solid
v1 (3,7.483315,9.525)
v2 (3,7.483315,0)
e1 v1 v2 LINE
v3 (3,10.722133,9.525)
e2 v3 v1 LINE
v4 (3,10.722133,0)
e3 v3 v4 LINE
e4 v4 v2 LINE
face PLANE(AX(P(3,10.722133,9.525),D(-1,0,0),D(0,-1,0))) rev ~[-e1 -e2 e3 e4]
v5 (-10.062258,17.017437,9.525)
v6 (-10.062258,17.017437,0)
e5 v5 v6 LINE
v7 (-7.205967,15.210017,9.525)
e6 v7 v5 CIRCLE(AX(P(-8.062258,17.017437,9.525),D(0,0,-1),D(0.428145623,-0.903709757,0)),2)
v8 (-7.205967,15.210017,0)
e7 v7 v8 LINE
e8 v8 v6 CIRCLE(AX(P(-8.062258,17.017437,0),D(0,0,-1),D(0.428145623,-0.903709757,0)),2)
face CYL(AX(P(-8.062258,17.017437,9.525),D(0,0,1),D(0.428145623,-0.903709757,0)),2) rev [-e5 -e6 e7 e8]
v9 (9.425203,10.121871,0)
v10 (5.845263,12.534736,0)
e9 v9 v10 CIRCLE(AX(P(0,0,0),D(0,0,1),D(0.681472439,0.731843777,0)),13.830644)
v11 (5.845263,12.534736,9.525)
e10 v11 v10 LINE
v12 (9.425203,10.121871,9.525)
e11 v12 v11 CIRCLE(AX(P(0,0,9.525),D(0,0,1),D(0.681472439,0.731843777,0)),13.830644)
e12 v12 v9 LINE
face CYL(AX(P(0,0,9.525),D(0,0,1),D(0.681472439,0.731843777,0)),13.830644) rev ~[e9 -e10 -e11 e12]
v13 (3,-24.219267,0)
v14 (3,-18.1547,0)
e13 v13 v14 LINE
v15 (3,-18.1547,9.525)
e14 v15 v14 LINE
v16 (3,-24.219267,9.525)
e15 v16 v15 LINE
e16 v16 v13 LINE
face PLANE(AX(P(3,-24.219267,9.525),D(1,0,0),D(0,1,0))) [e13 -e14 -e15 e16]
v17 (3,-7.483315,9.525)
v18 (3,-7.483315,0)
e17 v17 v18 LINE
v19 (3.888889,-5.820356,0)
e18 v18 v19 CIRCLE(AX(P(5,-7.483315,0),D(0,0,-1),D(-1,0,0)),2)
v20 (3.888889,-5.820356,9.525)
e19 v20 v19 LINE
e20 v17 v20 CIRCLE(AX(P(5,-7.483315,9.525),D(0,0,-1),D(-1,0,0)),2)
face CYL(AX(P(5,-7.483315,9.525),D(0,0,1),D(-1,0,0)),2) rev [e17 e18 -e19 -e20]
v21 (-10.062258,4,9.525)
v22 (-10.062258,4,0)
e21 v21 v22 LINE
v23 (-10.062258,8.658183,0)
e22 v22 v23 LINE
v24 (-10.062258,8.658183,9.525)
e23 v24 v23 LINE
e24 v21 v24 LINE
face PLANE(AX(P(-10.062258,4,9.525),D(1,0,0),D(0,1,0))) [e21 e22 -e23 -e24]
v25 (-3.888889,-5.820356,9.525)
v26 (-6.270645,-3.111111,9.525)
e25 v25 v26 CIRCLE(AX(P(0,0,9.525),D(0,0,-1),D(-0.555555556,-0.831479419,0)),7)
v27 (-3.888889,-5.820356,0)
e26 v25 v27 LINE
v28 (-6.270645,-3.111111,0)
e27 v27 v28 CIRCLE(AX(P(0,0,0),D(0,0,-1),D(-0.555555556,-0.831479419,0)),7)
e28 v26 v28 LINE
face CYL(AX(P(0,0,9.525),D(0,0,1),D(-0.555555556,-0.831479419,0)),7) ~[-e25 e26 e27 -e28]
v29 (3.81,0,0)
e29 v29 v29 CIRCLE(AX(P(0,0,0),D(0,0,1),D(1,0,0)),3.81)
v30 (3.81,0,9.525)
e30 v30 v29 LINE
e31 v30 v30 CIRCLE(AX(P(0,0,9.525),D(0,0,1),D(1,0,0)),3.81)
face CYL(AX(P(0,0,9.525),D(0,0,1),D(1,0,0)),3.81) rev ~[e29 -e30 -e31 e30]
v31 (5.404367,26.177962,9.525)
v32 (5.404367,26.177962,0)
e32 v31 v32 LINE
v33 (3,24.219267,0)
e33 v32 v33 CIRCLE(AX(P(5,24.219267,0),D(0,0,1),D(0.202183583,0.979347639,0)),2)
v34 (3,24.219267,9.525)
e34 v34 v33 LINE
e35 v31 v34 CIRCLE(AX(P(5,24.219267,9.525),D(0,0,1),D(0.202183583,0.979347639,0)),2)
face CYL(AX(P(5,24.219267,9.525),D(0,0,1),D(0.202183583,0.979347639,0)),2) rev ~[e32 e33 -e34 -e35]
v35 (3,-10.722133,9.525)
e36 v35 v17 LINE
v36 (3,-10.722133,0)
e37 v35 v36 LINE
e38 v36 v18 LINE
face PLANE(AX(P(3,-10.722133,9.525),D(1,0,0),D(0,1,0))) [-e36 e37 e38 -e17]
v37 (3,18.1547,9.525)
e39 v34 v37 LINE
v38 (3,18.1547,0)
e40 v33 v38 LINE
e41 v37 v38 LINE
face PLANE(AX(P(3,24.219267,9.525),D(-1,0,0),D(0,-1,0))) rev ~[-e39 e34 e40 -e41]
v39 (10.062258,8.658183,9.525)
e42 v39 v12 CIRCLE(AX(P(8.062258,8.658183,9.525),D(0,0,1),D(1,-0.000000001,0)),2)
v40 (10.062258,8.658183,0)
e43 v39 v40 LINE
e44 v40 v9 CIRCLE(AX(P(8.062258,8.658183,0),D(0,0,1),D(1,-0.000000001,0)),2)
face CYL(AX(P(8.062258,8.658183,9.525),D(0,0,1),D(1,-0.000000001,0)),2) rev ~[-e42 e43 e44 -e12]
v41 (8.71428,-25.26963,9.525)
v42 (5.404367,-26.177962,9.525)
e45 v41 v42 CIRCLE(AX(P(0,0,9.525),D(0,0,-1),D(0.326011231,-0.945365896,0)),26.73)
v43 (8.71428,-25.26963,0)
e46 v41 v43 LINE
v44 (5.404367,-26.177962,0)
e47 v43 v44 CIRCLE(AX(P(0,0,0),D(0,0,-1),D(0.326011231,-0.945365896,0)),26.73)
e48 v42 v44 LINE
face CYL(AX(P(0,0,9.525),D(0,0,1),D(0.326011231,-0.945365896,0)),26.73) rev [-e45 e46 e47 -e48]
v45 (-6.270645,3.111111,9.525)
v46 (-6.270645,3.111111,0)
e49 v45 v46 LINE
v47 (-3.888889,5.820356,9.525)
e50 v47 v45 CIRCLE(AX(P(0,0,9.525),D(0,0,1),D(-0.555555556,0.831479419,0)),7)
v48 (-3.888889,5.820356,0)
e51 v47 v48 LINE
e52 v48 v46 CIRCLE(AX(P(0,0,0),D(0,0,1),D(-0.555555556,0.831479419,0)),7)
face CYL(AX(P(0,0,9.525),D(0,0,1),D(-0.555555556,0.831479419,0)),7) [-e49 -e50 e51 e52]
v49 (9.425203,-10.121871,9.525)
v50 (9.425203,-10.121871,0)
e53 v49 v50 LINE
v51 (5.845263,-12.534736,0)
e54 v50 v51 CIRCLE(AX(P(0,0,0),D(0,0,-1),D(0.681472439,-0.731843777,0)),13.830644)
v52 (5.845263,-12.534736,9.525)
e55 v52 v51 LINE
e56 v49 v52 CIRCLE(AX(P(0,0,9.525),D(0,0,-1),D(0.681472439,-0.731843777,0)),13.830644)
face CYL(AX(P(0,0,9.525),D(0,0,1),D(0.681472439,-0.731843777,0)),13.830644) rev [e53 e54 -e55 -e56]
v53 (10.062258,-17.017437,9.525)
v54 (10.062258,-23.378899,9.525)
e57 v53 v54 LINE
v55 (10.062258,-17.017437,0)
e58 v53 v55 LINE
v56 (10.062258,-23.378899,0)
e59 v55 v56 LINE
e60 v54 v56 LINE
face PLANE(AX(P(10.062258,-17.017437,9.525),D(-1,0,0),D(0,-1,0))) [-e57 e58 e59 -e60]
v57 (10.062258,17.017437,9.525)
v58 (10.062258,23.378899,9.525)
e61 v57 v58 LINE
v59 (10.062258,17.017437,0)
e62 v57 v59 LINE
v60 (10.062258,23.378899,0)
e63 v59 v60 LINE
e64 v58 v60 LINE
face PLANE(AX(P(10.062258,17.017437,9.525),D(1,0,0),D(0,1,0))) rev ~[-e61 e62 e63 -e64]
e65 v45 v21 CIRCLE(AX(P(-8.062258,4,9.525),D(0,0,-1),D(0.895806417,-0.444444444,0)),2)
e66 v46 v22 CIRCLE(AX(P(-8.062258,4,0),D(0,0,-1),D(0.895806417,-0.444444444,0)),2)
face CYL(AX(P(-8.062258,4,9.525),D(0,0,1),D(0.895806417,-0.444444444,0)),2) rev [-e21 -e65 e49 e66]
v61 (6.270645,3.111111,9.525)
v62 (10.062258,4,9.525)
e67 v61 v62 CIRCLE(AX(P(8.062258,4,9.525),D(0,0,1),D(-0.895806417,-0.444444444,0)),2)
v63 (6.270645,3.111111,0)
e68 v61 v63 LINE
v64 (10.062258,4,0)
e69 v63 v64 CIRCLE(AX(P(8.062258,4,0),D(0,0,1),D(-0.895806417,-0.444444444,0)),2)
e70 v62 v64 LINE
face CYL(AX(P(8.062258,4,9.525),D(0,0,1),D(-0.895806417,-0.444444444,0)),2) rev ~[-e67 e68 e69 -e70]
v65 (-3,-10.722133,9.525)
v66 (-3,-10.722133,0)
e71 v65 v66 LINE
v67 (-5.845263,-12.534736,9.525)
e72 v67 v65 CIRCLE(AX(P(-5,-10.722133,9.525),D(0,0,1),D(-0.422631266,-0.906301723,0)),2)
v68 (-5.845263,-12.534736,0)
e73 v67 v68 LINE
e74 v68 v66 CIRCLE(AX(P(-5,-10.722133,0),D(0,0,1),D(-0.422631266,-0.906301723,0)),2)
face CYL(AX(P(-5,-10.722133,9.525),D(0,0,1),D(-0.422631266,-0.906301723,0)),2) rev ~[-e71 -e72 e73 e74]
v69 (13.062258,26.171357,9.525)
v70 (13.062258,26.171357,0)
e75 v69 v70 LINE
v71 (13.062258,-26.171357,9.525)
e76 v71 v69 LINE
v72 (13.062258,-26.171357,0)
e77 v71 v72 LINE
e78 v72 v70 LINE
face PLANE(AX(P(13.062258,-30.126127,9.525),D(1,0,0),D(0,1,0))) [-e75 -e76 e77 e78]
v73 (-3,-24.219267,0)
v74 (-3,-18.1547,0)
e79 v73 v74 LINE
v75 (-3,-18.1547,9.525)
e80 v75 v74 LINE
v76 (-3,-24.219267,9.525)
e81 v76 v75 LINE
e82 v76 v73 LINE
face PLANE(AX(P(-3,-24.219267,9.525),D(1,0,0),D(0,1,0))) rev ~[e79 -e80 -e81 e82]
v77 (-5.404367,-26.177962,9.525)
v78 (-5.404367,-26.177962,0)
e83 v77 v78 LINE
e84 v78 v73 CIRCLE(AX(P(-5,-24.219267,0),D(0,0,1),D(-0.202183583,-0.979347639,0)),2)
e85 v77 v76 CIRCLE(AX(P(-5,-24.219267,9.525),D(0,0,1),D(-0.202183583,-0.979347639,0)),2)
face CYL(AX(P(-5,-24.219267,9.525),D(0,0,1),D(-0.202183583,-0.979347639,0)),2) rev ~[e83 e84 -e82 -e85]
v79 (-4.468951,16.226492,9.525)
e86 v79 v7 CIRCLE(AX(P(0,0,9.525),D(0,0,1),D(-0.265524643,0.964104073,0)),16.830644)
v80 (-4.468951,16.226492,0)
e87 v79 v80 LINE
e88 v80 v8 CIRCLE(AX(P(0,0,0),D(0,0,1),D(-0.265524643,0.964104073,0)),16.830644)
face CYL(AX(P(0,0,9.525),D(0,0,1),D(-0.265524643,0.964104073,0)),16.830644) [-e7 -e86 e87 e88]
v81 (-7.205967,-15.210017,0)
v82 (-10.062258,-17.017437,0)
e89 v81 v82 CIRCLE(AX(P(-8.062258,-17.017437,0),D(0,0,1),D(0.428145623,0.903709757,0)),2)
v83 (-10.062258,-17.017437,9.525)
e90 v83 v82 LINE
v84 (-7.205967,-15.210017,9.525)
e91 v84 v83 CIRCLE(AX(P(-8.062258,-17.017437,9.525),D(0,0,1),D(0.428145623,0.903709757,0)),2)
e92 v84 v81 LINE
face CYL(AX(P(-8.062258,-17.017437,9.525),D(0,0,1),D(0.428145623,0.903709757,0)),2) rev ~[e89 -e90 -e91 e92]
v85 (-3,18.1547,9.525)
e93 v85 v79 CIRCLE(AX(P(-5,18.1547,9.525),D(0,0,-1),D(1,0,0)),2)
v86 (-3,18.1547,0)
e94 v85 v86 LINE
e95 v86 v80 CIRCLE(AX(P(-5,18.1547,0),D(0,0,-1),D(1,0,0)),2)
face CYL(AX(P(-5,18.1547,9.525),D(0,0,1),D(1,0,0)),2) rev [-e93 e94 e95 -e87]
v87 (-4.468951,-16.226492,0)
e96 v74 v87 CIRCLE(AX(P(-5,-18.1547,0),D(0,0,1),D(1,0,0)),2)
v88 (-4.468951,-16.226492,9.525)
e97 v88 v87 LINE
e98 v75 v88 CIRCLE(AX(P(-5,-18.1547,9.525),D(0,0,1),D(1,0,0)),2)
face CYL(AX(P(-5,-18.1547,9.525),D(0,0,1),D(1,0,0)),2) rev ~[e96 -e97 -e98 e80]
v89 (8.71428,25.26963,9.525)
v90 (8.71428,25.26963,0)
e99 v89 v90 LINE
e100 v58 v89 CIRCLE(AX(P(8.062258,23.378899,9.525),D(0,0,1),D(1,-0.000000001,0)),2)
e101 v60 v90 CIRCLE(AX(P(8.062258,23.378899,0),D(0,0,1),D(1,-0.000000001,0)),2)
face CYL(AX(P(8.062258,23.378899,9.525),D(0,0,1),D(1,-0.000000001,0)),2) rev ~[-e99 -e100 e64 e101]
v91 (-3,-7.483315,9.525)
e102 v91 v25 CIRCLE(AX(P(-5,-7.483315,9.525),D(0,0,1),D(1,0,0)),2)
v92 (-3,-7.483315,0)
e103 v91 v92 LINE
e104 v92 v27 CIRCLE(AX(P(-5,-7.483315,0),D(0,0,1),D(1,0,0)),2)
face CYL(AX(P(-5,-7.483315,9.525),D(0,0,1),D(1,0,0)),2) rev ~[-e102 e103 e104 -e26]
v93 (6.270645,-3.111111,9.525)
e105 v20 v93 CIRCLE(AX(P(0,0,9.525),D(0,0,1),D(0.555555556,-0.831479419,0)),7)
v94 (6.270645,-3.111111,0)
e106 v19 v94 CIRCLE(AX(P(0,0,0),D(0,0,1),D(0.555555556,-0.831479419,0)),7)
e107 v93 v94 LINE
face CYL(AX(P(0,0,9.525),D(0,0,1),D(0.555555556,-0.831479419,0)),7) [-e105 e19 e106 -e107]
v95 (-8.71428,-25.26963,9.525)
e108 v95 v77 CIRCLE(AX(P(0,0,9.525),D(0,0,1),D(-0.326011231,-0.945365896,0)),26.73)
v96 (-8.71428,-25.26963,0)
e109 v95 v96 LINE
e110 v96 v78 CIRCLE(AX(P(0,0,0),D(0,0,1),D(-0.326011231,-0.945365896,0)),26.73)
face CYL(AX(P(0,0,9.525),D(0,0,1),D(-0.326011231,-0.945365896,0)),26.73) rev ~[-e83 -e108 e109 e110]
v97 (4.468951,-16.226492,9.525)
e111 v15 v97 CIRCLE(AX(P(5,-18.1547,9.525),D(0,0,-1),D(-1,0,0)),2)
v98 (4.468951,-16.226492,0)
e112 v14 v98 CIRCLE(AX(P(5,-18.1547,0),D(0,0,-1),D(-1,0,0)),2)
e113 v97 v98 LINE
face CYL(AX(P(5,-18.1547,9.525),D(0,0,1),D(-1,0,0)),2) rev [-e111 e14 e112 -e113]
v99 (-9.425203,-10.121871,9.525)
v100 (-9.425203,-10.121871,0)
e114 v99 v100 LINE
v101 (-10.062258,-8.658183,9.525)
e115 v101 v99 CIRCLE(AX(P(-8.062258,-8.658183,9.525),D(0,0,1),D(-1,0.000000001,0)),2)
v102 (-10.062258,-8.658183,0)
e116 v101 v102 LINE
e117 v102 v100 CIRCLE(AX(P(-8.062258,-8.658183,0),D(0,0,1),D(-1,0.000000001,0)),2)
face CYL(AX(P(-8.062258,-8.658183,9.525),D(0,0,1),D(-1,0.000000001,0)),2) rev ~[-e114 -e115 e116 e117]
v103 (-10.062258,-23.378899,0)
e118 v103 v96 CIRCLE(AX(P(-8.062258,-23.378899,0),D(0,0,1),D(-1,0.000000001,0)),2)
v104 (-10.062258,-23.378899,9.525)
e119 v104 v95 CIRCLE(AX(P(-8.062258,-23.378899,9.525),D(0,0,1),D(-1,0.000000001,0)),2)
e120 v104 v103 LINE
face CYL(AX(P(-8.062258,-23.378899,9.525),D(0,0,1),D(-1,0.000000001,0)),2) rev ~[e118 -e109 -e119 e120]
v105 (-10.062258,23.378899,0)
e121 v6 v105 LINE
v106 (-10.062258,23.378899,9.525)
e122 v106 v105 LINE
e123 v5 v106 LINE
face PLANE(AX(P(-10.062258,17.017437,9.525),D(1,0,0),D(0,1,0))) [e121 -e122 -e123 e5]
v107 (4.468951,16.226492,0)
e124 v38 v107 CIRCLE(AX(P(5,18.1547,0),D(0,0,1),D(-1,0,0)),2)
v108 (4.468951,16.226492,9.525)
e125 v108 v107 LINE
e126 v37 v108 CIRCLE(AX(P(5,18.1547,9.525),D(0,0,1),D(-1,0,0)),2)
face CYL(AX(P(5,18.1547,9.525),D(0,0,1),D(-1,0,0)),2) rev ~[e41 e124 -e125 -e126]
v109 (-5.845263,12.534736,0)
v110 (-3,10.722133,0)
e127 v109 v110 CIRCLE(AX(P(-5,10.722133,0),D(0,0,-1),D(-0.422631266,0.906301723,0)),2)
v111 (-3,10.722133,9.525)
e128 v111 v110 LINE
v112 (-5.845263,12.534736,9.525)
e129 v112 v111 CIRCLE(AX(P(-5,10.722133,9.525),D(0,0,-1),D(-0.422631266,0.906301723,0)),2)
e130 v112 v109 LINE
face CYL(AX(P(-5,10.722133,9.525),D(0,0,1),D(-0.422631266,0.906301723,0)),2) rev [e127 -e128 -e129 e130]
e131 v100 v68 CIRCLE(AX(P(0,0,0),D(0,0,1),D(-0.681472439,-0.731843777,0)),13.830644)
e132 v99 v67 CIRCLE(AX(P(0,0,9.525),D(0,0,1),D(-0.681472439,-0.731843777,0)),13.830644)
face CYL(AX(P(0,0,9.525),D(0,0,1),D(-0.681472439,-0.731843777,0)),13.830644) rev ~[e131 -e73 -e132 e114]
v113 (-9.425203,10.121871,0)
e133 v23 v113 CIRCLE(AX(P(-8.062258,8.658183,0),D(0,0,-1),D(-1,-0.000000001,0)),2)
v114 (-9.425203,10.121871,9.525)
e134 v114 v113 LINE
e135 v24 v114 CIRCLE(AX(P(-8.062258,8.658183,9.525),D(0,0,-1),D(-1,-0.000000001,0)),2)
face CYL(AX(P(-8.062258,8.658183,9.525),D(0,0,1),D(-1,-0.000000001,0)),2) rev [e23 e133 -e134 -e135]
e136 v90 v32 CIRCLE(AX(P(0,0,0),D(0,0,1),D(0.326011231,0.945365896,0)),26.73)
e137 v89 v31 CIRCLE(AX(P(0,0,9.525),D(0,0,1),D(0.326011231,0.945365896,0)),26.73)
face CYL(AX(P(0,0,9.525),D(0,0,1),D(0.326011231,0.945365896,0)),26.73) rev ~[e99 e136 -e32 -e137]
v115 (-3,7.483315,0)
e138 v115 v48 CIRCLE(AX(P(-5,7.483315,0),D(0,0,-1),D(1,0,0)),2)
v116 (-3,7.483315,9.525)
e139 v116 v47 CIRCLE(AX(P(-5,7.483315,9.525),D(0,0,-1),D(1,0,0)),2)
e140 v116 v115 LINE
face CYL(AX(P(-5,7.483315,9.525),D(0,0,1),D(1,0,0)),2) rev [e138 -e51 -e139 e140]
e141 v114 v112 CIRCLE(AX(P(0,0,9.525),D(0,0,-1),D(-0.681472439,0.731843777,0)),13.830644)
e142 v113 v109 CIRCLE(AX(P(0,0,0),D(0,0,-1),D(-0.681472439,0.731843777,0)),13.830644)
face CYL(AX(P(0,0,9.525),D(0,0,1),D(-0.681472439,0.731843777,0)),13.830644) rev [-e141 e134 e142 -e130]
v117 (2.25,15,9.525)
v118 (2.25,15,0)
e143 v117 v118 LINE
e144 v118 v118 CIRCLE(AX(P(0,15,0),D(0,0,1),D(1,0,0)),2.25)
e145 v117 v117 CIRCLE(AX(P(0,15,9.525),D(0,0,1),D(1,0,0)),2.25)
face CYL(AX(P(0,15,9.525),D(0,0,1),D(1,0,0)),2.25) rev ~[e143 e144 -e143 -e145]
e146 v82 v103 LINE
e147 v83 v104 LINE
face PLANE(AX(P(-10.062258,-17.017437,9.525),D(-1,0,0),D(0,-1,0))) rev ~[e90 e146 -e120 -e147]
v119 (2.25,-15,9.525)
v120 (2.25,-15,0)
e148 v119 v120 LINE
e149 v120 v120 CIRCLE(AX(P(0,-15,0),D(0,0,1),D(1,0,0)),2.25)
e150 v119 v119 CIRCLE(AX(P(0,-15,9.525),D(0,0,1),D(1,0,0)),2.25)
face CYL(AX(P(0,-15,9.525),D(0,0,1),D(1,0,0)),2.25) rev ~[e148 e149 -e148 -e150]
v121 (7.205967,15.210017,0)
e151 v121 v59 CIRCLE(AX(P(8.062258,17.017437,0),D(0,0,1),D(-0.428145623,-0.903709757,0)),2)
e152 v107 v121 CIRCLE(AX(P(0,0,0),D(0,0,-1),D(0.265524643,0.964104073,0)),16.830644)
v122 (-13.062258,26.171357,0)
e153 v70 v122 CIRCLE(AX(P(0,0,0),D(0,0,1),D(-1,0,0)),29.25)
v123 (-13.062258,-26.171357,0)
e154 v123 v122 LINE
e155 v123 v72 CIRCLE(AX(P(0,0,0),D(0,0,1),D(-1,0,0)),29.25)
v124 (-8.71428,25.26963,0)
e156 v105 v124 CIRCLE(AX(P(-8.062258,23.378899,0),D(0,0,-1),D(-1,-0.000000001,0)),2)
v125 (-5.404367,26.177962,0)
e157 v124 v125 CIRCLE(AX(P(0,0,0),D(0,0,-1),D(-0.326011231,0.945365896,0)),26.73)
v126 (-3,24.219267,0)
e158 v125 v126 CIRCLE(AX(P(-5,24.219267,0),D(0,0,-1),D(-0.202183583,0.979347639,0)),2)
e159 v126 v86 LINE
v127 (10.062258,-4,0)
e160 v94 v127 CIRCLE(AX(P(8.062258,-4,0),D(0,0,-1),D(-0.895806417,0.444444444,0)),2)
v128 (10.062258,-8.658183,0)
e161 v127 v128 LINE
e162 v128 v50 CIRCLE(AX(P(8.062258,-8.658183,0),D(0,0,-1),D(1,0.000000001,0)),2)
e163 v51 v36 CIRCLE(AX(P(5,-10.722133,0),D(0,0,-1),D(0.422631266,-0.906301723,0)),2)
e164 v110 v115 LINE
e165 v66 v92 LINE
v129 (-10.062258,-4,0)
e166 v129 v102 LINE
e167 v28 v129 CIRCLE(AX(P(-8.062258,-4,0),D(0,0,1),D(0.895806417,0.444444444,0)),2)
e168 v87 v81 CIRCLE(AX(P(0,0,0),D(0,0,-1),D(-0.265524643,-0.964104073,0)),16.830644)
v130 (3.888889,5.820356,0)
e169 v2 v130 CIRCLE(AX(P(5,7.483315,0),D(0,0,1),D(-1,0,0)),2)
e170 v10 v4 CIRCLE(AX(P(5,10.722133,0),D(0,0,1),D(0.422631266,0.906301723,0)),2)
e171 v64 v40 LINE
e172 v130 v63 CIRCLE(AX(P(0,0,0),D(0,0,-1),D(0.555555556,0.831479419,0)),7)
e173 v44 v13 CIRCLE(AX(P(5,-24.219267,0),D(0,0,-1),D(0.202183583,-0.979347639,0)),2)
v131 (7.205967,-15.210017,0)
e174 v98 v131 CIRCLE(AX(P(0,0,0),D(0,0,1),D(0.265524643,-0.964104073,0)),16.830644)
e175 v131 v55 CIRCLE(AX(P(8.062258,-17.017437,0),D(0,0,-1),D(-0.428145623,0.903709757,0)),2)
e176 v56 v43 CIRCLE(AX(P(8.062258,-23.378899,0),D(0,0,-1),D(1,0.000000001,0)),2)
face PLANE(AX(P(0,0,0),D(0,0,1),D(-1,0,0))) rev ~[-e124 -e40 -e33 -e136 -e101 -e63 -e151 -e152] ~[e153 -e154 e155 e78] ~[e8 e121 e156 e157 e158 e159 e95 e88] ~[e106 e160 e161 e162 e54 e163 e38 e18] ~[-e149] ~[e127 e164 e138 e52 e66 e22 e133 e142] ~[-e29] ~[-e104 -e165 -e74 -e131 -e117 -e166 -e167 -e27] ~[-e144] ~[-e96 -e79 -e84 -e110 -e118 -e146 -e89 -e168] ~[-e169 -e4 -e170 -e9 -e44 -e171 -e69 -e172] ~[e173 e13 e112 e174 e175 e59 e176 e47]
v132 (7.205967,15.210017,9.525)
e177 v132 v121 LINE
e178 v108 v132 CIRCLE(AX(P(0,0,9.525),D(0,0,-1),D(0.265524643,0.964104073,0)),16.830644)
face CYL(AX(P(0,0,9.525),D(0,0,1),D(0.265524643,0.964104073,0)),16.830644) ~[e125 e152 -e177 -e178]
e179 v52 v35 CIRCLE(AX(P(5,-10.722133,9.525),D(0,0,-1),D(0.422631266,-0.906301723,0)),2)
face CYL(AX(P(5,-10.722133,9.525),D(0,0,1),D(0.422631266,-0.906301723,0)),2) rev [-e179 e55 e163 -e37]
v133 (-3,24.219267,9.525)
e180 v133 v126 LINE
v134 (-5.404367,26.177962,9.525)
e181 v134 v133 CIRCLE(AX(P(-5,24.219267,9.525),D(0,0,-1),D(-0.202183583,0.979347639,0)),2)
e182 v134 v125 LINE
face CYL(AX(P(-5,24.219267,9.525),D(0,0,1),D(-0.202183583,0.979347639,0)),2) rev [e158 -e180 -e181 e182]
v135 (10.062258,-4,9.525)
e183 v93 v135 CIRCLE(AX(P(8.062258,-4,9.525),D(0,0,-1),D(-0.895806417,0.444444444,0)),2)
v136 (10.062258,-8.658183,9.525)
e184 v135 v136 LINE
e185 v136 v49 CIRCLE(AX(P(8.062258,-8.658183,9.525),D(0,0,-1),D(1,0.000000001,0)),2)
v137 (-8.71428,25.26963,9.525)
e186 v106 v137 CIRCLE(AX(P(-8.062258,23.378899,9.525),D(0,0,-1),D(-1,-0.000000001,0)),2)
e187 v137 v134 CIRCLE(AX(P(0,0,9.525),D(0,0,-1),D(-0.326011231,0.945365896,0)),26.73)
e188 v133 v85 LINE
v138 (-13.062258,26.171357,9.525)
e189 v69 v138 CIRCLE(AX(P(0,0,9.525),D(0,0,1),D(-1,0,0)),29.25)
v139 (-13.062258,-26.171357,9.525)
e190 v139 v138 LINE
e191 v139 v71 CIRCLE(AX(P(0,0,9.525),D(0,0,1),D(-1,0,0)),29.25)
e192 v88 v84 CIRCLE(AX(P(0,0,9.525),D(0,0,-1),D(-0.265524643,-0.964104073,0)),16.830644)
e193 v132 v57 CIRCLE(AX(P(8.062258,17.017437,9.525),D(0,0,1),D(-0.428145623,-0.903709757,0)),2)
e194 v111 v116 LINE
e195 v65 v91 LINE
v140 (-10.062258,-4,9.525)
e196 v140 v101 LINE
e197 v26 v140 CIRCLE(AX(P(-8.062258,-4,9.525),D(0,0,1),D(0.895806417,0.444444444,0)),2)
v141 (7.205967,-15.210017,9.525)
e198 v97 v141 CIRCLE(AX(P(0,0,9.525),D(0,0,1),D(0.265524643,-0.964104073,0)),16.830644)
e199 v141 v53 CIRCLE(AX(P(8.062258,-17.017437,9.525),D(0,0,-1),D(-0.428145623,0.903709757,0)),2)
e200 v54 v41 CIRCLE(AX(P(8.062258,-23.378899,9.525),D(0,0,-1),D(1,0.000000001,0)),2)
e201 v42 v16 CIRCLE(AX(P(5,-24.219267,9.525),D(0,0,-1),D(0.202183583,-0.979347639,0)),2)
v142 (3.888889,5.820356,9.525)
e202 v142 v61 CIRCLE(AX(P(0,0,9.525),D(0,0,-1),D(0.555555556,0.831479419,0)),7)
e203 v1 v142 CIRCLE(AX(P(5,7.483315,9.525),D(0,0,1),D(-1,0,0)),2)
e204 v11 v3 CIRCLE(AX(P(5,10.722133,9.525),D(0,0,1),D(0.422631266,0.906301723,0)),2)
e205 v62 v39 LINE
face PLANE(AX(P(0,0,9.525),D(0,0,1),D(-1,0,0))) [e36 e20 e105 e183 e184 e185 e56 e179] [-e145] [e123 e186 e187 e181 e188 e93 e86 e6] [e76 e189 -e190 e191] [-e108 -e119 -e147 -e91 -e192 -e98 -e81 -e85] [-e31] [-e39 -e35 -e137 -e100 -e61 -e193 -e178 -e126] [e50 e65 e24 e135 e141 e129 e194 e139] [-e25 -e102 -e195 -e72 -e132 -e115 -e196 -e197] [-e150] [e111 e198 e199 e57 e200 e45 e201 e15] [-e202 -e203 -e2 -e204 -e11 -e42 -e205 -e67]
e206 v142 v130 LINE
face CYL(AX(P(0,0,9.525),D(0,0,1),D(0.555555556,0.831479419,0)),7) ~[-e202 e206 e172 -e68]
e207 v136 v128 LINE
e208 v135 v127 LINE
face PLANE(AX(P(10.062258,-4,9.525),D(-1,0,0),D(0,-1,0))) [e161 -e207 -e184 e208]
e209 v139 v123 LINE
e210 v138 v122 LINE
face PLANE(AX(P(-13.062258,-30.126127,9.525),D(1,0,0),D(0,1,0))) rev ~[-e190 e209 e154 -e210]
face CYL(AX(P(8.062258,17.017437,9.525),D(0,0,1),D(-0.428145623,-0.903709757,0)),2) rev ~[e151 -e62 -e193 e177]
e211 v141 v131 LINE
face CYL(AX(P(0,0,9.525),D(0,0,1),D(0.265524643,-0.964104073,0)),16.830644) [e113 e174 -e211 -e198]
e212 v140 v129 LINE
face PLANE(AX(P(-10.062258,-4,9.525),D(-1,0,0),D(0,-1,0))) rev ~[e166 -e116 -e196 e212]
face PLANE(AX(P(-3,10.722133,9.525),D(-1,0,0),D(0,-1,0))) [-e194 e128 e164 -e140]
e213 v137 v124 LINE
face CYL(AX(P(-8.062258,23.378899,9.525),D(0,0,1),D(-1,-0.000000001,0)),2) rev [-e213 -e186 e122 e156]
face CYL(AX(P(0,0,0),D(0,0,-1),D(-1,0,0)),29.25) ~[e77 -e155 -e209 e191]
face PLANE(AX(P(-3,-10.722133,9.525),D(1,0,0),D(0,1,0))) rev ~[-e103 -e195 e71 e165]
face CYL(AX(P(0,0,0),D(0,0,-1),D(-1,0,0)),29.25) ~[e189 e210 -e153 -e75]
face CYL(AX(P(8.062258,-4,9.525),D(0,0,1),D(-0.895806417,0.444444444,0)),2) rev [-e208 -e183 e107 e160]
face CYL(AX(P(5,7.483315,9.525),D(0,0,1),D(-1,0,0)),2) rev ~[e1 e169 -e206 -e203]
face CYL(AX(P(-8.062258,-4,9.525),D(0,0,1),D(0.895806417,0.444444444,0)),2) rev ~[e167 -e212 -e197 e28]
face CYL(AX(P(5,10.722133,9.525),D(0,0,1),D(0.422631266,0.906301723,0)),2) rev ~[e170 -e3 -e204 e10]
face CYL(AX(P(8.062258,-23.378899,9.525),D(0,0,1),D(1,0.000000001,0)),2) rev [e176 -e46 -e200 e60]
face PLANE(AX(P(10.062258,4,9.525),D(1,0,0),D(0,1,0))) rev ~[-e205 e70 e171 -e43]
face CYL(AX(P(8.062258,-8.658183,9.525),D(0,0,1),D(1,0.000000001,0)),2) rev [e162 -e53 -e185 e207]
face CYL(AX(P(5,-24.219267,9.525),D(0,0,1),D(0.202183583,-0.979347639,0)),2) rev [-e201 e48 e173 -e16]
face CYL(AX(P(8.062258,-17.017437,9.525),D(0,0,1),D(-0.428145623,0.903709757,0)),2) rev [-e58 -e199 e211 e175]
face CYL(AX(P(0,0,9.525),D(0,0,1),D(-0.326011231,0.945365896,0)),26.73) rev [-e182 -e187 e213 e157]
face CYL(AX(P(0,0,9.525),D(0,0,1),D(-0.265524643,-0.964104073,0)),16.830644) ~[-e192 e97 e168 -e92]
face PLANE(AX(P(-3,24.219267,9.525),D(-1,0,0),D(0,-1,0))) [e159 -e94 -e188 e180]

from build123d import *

# Parameters (mm, degrees)
SKETCH1_R          = 29.25
EXTRUDE_3_8_DEPTH  = 9.525
CUT_EXTRUDE1_DEPTH = 9.525
SKETCH3_R          = 2.25
M4_THROUGH_DEPTH   = 9.525
SKETCH4_R          = 3.81
F_3_8_DRILL_DEPTH  = 9.525
SKETCH6_W          = 18.02935576
SKETCH6_H          = 57.579918791
CUT_EXTRUDE2_DEPTH = 9.525


with BuildPart() as part:
    # Sketch1 → 3/8 (new body)
    with BuildSketch(Plane.XY):
        with Locations(Location((0, 0, 0), (0, 0, 180))):
            Circle(SKETCH1_R)
    extrude(amount=EXTRUDE_3_8_DEPTH)

    # Sketch2 → Cut-Extrude1 (cut)
    with BuildSketch(Plane.XY.offset(9.525)):
        with BuildLine():
            Line((-3, 24.219267124), (-3, 18.154700472))
            ThreePointArc((-3, 18.154700472), (-3.409072822, 16.942697702), (-4.468950714, 16.226492325))
            ThreePointArc((-4.468950714, 16.226492325), (-5.859541661, 15.777716729), (-7.205966503, 15.210017108))
            ThreePointArc((-7.205966503, 15.210017108), (-9.131700947, 15.327380042), (-10.062257748, 17.017436623))
            Line((-10.062257748, 17.017436623), (-10.062257748, 23.378898605))
            ThreePointArc((-10.062257748, 23.378898605), (-9.690760884, 24.539922954), (-8.714280211, 25.269630397))
            ThreePointArc((-8.714280211, 25.269630397), (-7.073918129, 25.776977757), (-5.404367165, 26.177962402))
            ThreePointArc((-5.404367165, 26.177962402), (-3.736816389, 25.769869318), (-3, 24.219267124))
        make_face()
        with BuildLine():
            Line((-3, 10.72213294), (-3, 7.483314774))
            ThreePointArc((-3, 7.483314774), (-3.236165793, 6.540505732), (-3.888888889, 5.820355935))
            ThreePointArc((-3.888888889, 5.820355935), (-5.257283867, 4.621792546), (-6.270644915, 3.111111111))
            ThreePointArc((-6.270644915, 3.111111111), (-8.518752181, 2.052793582), (-10.062257748, 4))
            Line((-10.062257748, 4), (-10.062257748, 8.658183111))
            ThreePointArc((-10.062257748, 8.658183111), (-9.896091132, 9.45634044), (-9.425202627, 10.121870666))
            ThreePointArc((-9.425202627, 10.121870666), (-7.729958395, 11.468847089), (-5.845262531, 12.534736386))
            ThreePointArc((-5.845262531, 12.534736386), (-3.925412885, 12.408923541), (-3, 10.72213294))
        make_face()
        with BuildLine():
            Line((3, 10.72213294), (3, 7.483314774))
            ThreePointArc((3, 7.483314774), (3.236165793, 6.540505732), (3.888888889, 5.820355935))
            ThreePointArc((3.888888889, 5.820355935), (5.257283867, 4.621792546), (6.270644915, 3.111111111))
            ThreePointArc((6.270644915, 3.111111111), (8.518752181, 2.052793582), (10.062257748, 4))
            Line((10.062257748, 4), (10.062257748, 8.658183111))
            ThreePointArc((10.062257748, 8.658183111), (9.896091132, 9.45634044), (9.425202627, 10.121870666))
            ThreePointArc((9.425202627, 10.121870666), (7.729958395, 11.468847089), (5.845262531, 12.534736386))
            ThreePointArc((5.845262531, 12.534736386), (3.925412885, 12.408923541), (3, 10.72213294))
        make_face()
        with BuildLine():
            Line((3, 24.219267124), (3, 18.154700472))
            ThreePointArc((3, 18.154700472), (3.409072822, 16.942697702), (4.468950714, 16.226492325))
            ThreePointArc((4.468950714, 16.226492325), (5.859541661, 15.777716729), (7.205966503, 15.210017108))
            ThreePointArc((7.205966503, 15.210017108), (9.131700947, 15.327380042), (10.062257748, 17.017436623))
            Line((10.062257748, 17.017436623), (10.062257748, 23.378898605))
            ThreePointArc((10.062257748, 23.378898605), (9.690760884, 24.539922954), (8.714280211, 25.269630397))
            ThreePointArc((8.714280211, 25.269630397), (7.073918129, 25.776977757), (5.404367165, 26.177962402))
            ThreePointArc((5.404367165, 26.177962402), (3.736816389, 25.769869318), (3, 24.219267124))
        make_face()
        with BuildLine():
            Line((-3, -10.72213294), (-3, -7.483314774))
            ThreePointArc((-3, -7.483314774), (-3.236165793, -6.540505732), (-3.888888889, -5.820355935))
            ThreePointArc((-3.888888889, -5.820355935), (-5.257283867, -4.621792546), (-6.270644915, -3.111111111))
            ThreePointArc((-6.270644915, -3.111111111), (-8.518752181, -2.052793582), (-10.062257748, -4))
            Line((-10.062257748, -4), (-10.062257748, -8.658183111))
            ThreePointArc((-10.062257748, -8.658183111), (-9.896091132, -9.45634044), (-9.425202627, -10.121870666))
            ThreePointArc((-9.425202627, -10.121870666), (-7.729958395, -11.468847089), (-5.845262531, -12.534736386))
            ThreePointArc((-5.845262531, -12.534736386), (-3.925412885, -12.408923541), (-3, -10.72213294))
        make_face()
        with BuildLine():
            Line((3, -10.72213294), (3, -7.483314774))
            ThreePointArc((3, -7.483314774), (3.236165793, -6.540505732), (3.888888889, -5.820355935))
            ThreePointArc((3.888888889, -5.820355935), (5.257283867, -4.621792546), (6.270644915, -3.111111111))
            ThreePointArc((6.270644915, -3.111111111), (8.518752181, -2.052793582), (10.062257748, -4))
            Line((10.062257748, -4), (10.062257748, -8.658183111))
            ThreePointArc((10.062257748, -8.658183111), (9.896091132, -9.45634044), (9.425202627, -10.121870666))
            ThreePointArc((9.425202627, -10.121870666), (7.729958395, -11.468847089), (5.845262531, -12.534736386))
            ThreePointArc((5.845262531, -12.534736386), (3.925412885, -12.408923541), (3, -10.72213294))
        make_face()
        with BuildLine():
            Line((3, -24.219267124), (3, -18.154700472))
            ThreePointArc((3, -18.154700472), (3.409072822, -16.942697702), (4.468950714, -16.226492325))
            ThreePointArc((4.468950714, -16.226492325), (5.859541661, -15.777716729), (7.205966503, -15.210017108))
            ThreePointArc((7.205966503, -15.210017108), (9.131700947, -15.327380042), (10.062257748, -17.017436623))
            Line((10.062257748, -17.017436623), (10.062257748, -23.378898605))
            ThreePointArc((10.062257748, -23.378898605), (9.690760884, -24.539922954), (8.714280211, -25.269630397))
            ThreePointArc((8.714280211, -25.269630397), (7.073918129, -25.776977757), (5.404367165, -26.177962402))
            ThreePointArc((5.404367165, -26.177962402), (3.736816389, -25.769869318), (3, -24.219267124))
        make_face()
        with BuildLine():
            Line((-3, -24.219267124), (-3, -18.154700472))
            ThreePointArc((-3, -18.154700472), (-3.409072822, -16.942697702), (-4.468950714, -16.226492325))
            ThreePointArc((-4.468950714, -16.226492325), (-5.859541661, -15.777716729), (-7.205966503, -15.210017108))
            ThreePointArc((-7.205966503, -15.210017108), (-9.131700947, -15.327380042), (-10.062257748, -17.017436623))
            Line((-10.062257748, -17.017436623), (-10.062257748, -23.378898605))
            ThreePointArc((-10.062257748, -23.378898605), (-9.690760884, -24.539922954), (-8.714280211, -25.269630397))
            ThreePointArc((-8.714280211, -25.269630397), (-7.073918129, -25.776977757), (-5.404367165, -26.177962402))
            ThreePointArc((-5.404367165, -26.177962402), (-3.736816389, -25.769869318), (-3, -24.219267124))
        make_face()
    extrude(amount=-CUT_EXTRUDE1_DEPTH, mode=Mode.SUBTRACT)

    # Sketch3 → M4_through (cut)
    with BuildSketch(Plane.XY.offset(9.525)):
        with Locations((0, 15)):
            Circle(SKETCH3_R)
        with Locations((0, -15)):
            Circle(SKETCH3_R)
    extrude(amount=-M4_THROUGH_DEPTH, mode=Mode.SUBTRACT)

    # Sketch4 → 3/8_DRILL (cut)
    with BuildSketch(Plane.XY.offset(9.525)):
        Circle(SKETCH4_R)
    extrude(amount=-F_3_8_DRILL_DEPTH, mode=Mode.SUBTRACT)

    # Sketch6 → Cut-Extrude2 (cut)
    with BuildSketch(Plane.XY.offset(9.525)):
        with Locations((-22.076935628, -1.336167669)):
            Rectangle(SKETCH6_W, SKETCH6_H)
        with Locations((22.076935628, -1.336167669)):
            Rectangle(SKETCH6_W, SKETCH6_H)
    extrude(amount=-CUT_EXTRUDE2_DEPTH, mode=Mode.SUBTRACT)


solid = part.part
